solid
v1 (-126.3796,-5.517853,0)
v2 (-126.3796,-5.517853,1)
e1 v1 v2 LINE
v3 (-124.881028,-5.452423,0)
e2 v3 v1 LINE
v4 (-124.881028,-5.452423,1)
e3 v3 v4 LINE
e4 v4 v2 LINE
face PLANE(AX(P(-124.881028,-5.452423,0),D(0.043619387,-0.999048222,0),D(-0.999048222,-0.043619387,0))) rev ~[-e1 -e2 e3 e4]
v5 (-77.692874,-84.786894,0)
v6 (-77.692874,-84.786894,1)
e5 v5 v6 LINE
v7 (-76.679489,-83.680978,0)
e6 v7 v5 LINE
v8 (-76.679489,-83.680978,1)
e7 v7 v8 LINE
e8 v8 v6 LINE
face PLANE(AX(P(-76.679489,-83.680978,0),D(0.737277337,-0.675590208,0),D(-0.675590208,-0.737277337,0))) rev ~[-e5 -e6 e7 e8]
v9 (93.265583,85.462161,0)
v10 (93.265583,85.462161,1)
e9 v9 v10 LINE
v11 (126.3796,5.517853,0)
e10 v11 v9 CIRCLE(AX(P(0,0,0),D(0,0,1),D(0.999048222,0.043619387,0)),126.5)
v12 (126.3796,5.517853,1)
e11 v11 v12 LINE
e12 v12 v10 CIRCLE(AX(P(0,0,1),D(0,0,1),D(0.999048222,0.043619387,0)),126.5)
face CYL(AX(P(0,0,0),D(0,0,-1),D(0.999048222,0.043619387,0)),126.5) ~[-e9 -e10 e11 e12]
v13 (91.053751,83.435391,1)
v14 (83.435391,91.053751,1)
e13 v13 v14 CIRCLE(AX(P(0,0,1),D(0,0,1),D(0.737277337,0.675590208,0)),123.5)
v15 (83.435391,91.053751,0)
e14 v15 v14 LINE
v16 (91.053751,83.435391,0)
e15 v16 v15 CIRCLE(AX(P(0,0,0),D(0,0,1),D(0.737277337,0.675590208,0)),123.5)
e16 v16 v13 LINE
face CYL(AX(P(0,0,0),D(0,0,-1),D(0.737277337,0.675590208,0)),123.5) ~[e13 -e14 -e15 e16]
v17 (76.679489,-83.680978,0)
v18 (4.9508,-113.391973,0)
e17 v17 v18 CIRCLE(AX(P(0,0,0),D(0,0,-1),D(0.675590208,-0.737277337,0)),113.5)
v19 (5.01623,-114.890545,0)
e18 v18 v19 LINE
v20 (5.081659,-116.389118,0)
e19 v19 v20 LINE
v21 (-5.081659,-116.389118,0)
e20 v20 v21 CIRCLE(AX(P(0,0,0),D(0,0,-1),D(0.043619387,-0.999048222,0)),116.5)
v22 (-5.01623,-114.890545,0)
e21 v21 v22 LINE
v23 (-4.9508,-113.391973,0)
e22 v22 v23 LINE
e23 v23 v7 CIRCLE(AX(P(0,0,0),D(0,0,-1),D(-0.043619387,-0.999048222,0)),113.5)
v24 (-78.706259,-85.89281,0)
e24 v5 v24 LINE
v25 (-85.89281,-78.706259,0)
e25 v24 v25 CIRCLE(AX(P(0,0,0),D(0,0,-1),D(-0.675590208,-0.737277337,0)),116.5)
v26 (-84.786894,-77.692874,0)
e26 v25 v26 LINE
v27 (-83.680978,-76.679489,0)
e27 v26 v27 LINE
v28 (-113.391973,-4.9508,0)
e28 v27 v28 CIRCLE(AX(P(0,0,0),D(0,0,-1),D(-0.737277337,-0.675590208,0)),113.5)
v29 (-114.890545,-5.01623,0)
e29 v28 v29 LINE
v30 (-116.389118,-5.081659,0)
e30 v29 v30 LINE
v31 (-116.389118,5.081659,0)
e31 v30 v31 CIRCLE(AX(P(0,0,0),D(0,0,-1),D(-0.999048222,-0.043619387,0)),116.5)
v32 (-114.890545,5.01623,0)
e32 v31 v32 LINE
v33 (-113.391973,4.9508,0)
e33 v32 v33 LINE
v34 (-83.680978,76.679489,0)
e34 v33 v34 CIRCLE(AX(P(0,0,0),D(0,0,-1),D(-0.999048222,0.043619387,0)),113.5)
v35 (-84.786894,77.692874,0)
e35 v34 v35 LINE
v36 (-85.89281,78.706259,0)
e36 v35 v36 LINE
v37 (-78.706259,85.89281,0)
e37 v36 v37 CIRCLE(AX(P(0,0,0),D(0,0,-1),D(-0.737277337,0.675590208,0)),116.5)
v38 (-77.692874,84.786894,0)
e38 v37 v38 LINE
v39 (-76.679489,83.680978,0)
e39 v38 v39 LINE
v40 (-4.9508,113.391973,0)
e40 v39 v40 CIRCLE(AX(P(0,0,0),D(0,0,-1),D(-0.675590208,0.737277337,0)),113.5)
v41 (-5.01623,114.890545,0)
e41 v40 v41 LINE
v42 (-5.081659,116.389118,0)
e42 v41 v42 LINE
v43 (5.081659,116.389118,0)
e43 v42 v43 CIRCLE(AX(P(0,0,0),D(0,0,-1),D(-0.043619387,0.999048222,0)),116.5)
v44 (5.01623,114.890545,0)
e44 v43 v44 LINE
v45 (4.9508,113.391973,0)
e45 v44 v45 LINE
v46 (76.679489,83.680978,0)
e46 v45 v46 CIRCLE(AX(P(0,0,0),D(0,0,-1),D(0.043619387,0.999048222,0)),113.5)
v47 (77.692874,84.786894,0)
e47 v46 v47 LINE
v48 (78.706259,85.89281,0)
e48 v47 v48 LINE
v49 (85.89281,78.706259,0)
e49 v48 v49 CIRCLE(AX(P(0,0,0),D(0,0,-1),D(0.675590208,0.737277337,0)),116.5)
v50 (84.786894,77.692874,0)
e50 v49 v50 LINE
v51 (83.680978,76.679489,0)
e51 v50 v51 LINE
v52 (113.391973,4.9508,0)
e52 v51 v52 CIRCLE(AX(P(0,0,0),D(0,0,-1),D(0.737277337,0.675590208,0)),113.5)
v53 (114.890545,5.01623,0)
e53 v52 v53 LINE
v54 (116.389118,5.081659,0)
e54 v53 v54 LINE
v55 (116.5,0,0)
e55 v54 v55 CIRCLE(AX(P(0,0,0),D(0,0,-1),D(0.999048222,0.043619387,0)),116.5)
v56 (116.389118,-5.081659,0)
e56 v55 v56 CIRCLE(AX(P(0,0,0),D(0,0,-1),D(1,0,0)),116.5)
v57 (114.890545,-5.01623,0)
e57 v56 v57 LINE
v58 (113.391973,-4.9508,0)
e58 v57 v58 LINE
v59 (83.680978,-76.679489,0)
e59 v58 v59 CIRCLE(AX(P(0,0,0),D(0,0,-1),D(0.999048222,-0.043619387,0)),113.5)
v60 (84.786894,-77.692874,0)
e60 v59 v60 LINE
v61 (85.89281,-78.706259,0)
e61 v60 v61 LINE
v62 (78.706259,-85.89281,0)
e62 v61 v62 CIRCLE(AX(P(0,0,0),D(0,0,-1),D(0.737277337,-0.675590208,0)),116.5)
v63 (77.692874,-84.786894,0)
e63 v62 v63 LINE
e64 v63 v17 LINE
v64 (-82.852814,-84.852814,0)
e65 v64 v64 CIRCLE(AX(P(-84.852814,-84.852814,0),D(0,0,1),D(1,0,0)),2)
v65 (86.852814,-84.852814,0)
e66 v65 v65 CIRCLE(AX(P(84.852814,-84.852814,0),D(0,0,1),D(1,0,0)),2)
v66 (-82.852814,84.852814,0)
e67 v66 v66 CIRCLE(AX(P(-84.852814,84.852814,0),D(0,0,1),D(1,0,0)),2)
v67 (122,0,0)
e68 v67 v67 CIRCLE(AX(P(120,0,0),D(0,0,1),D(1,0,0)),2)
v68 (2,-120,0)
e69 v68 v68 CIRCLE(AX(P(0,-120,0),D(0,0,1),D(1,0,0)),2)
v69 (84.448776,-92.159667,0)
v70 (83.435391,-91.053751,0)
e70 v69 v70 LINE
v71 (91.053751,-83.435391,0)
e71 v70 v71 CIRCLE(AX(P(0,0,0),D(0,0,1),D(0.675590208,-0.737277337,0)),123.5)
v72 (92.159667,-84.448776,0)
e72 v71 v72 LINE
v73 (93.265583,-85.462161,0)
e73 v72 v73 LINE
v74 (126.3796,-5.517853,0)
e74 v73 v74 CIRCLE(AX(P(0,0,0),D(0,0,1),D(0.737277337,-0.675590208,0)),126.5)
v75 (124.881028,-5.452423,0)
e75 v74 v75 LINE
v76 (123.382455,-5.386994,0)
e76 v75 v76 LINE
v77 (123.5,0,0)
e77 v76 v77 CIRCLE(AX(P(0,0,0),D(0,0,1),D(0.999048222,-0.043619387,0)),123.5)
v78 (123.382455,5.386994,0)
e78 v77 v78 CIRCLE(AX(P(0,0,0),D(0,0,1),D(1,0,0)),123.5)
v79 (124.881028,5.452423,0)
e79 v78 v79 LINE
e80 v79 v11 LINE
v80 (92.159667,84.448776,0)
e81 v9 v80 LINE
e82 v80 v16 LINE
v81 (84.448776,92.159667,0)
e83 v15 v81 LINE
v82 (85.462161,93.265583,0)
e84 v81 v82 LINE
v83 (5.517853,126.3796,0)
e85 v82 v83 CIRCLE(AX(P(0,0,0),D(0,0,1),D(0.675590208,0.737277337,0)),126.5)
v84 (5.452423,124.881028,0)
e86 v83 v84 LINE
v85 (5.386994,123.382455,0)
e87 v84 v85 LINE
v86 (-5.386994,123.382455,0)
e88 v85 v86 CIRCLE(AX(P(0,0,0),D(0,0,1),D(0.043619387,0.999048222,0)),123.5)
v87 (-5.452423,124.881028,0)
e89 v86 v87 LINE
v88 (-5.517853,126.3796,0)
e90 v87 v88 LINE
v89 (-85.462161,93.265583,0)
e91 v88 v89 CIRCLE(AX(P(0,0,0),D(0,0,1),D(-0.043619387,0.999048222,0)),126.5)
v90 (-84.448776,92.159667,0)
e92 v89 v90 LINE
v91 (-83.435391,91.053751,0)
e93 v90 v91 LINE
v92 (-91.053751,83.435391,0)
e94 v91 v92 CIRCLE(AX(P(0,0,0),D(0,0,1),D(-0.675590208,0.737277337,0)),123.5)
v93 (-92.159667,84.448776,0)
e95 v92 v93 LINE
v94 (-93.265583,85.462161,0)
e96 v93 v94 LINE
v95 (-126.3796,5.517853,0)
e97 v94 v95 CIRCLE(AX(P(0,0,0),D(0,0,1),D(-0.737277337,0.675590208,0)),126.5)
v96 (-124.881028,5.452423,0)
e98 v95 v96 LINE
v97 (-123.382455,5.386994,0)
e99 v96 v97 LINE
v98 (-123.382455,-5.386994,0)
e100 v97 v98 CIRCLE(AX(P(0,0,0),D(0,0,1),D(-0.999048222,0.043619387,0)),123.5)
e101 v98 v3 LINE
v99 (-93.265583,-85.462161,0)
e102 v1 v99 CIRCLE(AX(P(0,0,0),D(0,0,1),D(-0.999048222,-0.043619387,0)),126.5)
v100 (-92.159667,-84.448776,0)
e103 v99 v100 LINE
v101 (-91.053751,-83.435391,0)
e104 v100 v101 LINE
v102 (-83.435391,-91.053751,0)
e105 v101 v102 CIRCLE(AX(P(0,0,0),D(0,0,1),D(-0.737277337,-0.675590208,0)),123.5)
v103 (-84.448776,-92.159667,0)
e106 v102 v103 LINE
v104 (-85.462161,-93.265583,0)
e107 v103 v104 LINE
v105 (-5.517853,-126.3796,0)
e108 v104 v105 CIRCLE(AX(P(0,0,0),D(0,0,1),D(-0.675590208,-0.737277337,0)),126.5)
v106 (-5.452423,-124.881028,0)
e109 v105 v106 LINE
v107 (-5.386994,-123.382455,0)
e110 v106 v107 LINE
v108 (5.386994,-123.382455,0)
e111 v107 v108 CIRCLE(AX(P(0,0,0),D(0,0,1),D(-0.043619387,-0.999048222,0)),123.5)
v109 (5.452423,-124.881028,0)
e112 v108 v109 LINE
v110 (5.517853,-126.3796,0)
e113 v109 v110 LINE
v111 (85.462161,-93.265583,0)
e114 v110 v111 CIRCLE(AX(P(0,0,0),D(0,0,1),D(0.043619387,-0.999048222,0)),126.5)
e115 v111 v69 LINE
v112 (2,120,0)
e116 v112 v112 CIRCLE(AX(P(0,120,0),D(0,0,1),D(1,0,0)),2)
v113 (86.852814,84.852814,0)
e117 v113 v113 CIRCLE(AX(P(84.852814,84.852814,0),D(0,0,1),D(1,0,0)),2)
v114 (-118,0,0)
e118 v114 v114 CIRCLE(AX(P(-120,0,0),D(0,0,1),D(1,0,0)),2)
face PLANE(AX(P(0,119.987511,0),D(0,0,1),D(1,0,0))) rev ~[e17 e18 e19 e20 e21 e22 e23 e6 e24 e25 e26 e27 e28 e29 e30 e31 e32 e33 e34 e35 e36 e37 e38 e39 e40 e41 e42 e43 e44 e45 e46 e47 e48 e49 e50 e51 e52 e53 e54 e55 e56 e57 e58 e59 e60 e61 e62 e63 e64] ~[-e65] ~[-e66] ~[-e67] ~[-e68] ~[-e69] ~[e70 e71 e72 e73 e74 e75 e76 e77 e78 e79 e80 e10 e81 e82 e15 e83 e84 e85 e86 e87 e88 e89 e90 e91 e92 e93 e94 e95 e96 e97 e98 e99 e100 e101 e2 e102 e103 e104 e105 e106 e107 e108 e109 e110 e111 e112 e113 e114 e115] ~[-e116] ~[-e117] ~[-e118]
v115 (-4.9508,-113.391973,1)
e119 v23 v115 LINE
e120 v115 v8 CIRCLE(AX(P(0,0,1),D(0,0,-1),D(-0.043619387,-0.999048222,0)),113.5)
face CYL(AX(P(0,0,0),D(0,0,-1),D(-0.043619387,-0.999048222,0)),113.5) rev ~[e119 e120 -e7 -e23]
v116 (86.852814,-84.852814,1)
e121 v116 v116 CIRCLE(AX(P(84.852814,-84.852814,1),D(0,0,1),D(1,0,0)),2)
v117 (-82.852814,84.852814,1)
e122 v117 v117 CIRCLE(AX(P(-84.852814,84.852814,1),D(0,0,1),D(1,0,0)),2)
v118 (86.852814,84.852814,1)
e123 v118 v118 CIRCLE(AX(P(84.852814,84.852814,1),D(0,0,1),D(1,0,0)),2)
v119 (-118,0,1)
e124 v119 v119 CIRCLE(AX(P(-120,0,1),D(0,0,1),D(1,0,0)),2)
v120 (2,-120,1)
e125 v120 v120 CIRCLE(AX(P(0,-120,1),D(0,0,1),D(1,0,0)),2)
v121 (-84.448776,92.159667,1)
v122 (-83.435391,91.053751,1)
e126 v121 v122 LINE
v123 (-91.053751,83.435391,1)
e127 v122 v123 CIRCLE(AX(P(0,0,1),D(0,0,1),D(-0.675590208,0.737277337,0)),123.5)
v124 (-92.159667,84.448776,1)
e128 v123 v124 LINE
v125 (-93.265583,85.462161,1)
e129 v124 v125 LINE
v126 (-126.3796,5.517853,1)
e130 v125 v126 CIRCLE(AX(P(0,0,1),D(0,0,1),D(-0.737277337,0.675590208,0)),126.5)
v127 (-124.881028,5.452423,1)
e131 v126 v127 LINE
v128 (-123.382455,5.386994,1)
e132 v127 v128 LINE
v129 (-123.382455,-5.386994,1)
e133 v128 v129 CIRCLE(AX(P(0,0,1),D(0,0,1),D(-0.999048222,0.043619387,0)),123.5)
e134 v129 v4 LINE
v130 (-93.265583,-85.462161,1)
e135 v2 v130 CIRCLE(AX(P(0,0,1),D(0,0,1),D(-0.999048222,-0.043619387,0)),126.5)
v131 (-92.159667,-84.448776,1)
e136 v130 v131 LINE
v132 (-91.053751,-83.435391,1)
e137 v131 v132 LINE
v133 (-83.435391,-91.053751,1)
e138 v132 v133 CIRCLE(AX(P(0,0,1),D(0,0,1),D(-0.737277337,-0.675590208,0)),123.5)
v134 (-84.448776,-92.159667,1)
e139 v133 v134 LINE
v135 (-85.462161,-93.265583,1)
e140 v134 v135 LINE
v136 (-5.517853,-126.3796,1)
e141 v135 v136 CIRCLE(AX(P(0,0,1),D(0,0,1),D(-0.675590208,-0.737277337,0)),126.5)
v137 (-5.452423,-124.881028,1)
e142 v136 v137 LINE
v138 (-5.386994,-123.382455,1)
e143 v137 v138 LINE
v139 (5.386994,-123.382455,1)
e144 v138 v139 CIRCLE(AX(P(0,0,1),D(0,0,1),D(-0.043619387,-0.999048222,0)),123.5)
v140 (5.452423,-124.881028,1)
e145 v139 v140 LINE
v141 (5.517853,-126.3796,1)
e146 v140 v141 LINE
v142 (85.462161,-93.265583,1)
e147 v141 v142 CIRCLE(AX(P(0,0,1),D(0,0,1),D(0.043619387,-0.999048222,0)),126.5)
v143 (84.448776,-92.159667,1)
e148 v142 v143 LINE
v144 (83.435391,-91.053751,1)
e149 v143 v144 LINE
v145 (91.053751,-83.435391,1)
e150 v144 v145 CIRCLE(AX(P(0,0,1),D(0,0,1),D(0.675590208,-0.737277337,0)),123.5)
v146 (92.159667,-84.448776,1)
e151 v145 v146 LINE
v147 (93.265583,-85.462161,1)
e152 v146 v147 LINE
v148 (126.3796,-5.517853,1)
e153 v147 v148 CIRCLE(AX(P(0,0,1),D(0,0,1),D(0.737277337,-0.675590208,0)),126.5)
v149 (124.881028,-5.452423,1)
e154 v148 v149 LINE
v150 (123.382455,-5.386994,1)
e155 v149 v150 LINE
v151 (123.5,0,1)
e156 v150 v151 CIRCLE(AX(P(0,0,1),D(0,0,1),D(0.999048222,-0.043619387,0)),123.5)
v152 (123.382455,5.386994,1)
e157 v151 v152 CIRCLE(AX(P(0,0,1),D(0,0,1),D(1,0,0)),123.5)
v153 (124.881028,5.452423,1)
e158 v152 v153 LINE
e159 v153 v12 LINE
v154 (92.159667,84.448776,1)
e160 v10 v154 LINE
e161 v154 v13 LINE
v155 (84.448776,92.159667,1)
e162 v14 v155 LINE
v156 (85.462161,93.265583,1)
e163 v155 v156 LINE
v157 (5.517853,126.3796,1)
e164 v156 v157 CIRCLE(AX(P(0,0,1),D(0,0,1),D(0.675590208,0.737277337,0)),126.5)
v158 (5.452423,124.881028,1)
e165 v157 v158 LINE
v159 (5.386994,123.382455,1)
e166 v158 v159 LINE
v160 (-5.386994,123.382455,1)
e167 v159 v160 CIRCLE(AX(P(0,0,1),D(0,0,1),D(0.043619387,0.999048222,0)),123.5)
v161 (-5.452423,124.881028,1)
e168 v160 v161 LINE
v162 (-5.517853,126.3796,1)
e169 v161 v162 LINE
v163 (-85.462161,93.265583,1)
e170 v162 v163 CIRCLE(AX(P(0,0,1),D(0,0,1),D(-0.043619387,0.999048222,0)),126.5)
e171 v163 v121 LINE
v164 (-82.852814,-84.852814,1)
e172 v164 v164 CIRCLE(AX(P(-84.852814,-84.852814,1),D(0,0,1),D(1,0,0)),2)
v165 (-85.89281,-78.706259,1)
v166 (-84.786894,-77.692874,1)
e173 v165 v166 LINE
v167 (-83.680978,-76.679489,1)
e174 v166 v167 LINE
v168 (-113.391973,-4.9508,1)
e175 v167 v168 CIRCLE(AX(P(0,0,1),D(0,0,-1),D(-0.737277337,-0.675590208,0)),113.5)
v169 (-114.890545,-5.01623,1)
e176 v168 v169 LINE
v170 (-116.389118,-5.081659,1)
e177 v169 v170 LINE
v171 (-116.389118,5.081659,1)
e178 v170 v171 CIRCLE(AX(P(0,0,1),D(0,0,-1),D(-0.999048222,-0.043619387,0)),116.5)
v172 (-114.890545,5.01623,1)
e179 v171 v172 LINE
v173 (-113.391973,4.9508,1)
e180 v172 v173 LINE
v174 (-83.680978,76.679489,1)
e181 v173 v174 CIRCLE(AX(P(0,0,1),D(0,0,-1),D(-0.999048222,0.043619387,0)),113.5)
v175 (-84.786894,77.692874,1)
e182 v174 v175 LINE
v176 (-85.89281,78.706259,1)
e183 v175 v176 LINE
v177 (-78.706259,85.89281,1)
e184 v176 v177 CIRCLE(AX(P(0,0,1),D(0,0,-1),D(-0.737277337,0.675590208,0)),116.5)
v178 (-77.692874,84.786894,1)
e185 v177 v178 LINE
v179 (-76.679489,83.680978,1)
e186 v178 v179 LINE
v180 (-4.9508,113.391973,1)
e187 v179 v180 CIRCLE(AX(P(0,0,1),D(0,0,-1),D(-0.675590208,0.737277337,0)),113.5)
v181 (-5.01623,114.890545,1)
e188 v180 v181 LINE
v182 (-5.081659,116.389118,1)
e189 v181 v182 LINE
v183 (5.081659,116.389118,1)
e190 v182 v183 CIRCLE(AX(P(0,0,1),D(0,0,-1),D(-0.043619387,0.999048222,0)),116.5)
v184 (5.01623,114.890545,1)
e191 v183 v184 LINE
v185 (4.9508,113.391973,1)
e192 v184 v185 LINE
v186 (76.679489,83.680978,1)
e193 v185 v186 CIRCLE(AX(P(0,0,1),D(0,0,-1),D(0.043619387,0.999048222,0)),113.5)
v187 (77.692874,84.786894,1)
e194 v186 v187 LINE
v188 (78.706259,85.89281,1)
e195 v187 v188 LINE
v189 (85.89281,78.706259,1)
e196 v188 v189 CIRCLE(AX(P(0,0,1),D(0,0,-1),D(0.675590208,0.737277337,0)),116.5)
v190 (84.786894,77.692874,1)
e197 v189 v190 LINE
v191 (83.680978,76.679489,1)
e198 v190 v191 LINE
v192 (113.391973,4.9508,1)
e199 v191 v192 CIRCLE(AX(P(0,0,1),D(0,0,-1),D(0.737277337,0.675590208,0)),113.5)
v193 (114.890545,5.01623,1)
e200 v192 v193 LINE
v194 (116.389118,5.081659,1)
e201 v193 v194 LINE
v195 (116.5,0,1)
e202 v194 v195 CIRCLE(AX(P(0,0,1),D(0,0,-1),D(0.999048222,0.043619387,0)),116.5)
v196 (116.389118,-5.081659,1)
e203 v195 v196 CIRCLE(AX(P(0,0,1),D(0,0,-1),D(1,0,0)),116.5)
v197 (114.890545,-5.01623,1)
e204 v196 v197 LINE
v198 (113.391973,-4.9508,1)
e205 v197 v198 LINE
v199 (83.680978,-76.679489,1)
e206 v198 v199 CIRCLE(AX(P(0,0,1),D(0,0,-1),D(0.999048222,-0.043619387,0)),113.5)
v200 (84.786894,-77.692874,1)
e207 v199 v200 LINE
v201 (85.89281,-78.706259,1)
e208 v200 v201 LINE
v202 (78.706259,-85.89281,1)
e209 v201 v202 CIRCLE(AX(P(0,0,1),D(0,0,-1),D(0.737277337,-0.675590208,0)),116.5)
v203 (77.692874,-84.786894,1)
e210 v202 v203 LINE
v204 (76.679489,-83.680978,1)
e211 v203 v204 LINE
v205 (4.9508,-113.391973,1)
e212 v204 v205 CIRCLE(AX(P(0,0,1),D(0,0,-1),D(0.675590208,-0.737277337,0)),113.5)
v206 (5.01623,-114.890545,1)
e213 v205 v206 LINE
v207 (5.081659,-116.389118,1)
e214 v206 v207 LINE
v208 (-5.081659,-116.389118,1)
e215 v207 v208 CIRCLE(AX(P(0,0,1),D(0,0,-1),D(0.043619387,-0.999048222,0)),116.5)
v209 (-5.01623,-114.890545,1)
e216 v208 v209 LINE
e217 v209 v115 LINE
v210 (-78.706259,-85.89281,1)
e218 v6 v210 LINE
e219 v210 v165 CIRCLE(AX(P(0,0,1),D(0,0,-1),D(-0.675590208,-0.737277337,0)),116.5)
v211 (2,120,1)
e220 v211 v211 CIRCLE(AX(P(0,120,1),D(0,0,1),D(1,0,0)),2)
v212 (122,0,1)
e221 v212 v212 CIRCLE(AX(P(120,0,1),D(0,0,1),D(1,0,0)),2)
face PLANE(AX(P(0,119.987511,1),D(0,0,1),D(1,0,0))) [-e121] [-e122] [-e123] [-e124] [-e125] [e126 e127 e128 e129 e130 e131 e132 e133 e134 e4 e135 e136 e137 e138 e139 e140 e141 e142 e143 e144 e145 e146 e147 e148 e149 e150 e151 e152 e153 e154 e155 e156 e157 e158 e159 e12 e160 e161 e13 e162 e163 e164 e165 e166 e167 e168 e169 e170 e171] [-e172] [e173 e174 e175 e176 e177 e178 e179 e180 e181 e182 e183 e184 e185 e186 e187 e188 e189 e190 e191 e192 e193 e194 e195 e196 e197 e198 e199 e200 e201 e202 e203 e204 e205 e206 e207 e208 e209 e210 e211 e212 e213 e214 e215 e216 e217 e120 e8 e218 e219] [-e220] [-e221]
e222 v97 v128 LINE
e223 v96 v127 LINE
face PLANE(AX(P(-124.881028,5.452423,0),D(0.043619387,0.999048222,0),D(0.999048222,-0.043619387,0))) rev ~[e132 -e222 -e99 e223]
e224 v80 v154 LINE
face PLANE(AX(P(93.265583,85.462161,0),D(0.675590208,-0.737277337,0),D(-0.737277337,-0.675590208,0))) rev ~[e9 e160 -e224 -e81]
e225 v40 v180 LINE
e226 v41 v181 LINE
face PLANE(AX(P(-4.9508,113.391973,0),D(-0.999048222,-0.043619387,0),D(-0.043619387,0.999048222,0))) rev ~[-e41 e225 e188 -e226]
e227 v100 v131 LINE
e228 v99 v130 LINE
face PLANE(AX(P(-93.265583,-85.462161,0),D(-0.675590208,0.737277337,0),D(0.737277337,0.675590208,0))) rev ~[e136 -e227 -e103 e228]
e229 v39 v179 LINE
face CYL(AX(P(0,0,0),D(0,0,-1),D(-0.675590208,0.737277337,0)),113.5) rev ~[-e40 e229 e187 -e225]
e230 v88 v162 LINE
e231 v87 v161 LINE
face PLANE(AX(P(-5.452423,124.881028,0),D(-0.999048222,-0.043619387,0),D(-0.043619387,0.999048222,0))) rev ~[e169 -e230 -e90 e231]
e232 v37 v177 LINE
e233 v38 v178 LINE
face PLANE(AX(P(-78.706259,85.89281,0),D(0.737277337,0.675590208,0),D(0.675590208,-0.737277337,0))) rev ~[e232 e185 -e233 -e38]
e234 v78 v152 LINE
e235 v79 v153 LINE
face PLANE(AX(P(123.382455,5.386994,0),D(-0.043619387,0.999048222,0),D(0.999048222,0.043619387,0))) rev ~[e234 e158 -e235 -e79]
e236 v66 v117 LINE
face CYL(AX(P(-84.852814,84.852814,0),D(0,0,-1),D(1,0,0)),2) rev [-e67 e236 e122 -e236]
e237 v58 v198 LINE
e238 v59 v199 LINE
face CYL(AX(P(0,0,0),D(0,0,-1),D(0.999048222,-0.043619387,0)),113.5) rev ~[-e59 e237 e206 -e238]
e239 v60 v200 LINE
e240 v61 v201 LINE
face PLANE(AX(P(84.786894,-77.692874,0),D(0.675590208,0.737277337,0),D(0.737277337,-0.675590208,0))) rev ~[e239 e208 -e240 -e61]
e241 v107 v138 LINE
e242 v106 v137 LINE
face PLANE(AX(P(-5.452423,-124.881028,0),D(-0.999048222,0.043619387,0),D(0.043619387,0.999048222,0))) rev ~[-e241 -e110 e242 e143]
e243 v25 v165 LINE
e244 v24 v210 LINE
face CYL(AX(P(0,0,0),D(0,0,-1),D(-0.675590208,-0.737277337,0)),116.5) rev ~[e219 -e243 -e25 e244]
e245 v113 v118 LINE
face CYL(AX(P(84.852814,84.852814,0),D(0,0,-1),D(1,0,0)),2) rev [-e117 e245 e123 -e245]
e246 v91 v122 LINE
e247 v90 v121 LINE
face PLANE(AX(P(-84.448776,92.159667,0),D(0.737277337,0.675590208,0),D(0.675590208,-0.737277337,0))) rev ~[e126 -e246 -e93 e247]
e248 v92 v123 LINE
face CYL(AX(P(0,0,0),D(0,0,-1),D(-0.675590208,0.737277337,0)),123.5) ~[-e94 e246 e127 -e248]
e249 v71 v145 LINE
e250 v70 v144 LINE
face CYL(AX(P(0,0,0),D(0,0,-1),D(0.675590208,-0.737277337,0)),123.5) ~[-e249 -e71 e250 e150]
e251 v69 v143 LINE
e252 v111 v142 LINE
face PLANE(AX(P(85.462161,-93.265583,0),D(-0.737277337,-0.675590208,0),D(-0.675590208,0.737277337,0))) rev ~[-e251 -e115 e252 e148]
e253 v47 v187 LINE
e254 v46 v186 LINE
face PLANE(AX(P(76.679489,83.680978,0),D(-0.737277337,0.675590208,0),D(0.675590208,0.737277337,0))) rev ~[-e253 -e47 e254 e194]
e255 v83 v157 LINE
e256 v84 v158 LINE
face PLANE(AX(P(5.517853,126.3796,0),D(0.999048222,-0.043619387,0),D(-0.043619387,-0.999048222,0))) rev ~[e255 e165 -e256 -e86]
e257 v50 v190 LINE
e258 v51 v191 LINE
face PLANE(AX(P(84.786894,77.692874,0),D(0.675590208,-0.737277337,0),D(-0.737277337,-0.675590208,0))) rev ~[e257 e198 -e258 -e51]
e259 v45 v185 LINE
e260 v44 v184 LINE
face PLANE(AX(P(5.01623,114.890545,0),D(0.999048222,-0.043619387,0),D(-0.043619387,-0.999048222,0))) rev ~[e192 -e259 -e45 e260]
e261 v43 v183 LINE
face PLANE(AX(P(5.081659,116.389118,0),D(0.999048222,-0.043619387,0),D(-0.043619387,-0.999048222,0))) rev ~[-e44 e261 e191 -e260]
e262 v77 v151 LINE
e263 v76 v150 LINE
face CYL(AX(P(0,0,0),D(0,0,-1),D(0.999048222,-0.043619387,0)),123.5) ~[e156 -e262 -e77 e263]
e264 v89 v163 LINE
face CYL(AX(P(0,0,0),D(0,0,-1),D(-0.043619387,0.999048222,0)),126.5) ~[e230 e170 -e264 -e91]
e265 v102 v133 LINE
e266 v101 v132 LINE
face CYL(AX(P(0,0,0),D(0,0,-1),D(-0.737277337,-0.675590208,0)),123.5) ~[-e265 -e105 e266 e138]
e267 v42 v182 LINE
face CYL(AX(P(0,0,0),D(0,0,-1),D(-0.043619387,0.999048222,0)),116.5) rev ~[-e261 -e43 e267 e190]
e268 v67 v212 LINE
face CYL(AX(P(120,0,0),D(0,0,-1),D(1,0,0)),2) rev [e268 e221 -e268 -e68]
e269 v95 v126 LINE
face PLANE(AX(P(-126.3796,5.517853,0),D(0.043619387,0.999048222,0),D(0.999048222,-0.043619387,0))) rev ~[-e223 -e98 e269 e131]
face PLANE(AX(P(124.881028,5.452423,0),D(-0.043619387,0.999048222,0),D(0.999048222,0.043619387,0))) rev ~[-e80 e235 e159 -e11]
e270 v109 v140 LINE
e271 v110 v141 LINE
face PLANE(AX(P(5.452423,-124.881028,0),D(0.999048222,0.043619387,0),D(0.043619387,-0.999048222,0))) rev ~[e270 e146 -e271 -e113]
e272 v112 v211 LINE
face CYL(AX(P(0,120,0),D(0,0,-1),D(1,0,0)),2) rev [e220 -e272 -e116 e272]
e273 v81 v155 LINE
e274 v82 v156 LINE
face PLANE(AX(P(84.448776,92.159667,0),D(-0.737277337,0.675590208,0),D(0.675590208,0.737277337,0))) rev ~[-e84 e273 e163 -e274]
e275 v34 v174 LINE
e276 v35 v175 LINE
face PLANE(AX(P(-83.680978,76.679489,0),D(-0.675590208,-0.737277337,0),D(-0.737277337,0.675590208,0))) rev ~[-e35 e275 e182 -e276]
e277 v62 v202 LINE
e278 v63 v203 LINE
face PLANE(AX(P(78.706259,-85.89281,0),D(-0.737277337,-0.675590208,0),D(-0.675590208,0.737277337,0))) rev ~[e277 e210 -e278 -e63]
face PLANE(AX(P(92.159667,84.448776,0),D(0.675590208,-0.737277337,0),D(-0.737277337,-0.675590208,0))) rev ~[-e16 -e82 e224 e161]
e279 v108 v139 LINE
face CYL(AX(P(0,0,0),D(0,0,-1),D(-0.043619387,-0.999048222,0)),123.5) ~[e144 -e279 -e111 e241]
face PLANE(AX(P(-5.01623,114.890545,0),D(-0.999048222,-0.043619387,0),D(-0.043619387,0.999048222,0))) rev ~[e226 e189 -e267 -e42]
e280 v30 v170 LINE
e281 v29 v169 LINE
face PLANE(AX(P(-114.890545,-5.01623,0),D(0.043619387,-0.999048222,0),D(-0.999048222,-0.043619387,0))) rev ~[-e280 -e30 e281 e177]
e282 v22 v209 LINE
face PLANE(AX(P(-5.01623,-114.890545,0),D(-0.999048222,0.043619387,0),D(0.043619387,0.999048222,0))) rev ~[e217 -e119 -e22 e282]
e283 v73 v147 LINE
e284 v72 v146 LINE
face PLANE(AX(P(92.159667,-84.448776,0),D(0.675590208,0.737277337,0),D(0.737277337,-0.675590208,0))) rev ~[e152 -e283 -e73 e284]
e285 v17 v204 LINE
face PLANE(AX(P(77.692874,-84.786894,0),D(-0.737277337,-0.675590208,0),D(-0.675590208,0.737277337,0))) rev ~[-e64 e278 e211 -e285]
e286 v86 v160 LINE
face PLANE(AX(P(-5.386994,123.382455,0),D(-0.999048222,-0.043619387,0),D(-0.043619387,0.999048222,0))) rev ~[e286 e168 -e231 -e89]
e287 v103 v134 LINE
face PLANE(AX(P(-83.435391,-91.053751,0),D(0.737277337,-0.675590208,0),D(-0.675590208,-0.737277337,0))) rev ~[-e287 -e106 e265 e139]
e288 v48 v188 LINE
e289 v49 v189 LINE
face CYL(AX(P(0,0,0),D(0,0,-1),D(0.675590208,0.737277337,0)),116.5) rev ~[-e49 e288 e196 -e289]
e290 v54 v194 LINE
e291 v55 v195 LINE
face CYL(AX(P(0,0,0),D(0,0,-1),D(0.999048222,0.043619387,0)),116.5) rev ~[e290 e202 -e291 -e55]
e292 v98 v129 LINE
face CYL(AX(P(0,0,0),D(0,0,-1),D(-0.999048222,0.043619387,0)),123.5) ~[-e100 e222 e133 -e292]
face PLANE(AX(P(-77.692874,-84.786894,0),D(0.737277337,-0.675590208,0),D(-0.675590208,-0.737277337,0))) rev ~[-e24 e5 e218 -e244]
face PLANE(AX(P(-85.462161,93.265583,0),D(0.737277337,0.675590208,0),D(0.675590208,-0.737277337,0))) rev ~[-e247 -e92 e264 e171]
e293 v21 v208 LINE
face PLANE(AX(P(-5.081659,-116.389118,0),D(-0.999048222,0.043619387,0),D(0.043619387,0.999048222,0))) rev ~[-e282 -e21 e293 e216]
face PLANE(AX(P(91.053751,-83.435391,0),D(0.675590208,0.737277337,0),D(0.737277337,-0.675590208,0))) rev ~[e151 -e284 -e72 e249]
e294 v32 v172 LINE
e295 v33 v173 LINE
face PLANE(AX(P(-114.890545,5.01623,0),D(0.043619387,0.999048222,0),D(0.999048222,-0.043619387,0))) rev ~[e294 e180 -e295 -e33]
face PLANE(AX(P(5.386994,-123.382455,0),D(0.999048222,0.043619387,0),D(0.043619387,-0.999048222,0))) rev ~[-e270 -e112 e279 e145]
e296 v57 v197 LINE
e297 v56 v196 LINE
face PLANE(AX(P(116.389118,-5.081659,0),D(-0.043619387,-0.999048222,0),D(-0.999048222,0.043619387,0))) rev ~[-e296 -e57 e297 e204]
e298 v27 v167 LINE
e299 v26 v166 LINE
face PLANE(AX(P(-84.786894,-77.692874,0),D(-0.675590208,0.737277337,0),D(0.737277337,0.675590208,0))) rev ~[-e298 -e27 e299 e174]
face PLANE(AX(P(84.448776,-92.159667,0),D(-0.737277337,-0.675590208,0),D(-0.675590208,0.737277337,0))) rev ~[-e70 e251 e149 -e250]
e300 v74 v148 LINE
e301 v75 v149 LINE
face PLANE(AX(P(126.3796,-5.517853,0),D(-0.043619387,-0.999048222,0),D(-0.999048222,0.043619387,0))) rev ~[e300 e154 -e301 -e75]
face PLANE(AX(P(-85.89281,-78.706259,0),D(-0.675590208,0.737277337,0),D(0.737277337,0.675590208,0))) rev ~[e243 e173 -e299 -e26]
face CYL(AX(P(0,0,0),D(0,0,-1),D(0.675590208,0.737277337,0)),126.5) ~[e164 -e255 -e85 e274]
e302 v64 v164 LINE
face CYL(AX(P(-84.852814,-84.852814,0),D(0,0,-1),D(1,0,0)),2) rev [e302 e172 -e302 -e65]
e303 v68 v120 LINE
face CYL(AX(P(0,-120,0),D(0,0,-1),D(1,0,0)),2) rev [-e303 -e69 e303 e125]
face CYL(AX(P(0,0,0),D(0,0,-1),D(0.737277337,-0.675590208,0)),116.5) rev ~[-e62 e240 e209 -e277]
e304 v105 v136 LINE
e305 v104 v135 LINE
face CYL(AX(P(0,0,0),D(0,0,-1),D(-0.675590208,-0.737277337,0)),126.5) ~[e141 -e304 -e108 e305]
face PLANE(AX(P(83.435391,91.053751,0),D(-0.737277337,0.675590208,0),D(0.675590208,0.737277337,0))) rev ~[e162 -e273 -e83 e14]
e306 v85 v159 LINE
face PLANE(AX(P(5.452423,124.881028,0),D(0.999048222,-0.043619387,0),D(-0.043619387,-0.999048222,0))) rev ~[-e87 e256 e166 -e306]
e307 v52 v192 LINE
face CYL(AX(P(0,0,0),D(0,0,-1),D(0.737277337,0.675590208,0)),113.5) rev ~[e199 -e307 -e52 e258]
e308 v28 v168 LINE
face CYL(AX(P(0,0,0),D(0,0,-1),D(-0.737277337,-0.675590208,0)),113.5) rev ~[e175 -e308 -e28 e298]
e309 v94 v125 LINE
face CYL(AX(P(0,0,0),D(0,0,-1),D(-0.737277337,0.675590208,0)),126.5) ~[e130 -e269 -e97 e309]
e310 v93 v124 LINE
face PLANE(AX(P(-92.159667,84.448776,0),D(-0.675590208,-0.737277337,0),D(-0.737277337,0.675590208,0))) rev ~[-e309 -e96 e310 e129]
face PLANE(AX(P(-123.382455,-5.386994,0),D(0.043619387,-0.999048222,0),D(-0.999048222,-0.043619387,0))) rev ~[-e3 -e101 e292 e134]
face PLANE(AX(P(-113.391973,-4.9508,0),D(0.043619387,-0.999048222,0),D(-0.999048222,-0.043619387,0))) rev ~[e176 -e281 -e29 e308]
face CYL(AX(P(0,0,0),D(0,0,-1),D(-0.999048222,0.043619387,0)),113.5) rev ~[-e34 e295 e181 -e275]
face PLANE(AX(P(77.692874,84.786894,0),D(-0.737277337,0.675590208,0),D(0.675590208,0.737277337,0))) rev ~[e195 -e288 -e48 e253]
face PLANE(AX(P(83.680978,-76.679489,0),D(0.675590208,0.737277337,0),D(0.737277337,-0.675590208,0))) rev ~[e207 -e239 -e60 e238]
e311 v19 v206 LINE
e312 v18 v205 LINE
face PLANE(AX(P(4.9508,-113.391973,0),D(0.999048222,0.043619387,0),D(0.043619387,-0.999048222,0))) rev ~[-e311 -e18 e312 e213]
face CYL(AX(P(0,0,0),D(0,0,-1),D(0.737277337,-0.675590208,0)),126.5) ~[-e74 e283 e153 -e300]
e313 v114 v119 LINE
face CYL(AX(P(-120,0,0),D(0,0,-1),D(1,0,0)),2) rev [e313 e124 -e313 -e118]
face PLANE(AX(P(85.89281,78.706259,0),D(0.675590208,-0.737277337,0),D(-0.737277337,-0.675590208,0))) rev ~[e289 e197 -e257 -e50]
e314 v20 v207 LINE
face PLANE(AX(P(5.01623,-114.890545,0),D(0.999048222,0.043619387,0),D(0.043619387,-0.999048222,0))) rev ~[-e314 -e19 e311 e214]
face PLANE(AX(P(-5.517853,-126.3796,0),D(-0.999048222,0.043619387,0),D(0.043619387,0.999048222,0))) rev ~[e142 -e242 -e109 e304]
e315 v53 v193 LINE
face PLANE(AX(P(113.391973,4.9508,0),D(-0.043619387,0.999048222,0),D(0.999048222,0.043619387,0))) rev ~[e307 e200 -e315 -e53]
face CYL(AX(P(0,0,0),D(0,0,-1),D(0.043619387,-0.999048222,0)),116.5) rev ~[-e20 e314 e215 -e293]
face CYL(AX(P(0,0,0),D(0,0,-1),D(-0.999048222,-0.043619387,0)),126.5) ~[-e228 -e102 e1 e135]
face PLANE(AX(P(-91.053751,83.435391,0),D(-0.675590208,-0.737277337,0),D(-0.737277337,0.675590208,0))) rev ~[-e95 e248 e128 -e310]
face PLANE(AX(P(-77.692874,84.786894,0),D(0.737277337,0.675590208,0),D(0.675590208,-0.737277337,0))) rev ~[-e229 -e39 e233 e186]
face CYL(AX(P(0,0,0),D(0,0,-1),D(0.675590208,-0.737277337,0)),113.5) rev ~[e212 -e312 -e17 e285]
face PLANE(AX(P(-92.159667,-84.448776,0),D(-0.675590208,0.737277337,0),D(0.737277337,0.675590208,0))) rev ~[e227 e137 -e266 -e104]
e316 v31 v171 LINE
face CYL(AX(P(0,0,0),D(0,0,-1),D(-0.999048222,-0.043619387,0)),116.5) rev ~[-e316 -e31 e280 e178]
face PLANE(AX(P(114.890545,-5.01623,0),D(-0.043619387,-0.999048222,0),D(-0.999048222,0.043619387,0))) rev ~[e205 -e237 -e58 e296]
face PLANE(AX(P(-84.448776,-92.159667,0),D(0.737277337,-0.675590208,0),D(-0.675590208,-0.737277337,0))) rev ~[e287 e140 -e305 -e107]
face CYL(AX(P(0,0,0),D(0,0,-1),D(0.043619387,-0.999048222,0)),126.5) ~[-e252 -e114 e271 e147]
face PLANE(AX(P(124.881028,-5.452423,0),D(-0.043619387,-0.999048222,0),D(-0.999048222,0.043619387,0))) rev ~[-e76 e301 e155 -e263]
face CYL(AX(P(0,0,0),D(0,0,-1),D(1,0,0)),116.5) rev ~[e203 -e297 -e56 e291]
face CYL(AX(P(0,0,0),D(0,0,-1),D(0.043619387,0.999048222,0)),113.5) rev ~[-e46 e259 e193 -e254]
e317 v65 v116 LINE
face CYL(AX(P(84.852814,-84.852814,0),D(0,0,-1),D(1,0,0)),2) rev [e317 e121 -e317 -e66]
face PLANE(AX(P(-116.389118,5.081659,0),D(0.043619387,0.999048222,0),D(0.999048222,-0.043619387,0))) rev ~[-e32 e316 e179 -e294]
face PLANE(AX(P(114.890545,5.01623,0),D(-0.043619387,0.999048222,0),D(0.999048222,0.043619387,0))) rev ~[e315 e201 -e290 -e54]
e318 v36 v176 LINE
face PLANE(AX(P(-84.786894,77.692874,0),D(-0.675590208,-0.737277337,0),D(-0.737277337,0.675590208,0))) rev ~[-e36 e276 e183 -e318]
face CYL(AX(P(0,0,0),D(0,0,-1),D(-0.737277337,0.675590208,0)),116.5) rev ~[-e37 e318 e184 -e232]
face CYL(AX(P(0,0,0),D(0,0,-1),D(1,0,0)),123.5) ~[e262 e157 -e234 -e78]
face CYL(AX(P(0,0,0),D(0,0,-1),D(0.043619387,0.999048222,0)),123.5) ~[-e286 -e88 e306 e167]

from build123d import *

# Parameters (mm, degrees)
F0_R     = 2
F1_DEPTH = 1


with BuildPart() as f1:
    # F0 (on Top) → F1 (new body)
    with BuildSketch(Plane.XY):
        with BuildLine():
            Line((5.0816586281, 116.3891178143), (5.3869943396, 123.3824553654))
            ThreePointArc((5.3869943396, 123.3824553654), (0, 123.5), (-5.3869943396, 123.3824553654))
            Line((-5.3869943396, 123.3824553654), (-5.0816586281, 116.3891178143))
            ThreePointArc((-5.0816586281, 116.3891178143), (0, 116.5), (5.0816586281, 116.3891178143))
        make_face()
        with Locations((0, 120)):
            Circle(F0_R, mode=Mode.SUBTRACT)
        with BuildLine():
            Line((-78.7062591872, 85.8928097384), (-83.4353906405, 91.0537510961))
            ThreePointArc((-83.4353906405, 91.0537510961), (-87.3276874765, 87.3276874765), (-91.0537510961, 83.4353906405))
            Line((-91.0537510961, 83.4353906405), (-85.8928097384, 78.7062591872))
            ThreePointArc((-85.8928097384, 78.7062591872), (-82.3779400082, 82.3779400082), (-78.7062591872, 85.8928097384))
        make_face()
        with Locations((-84.8528137424, 84.8528137424)):
            Circle(F0_R, mode=Mode.SUBTRACT)
        with BuildLine():
            Line((85.8928097384, 78.7062591872), (91.0537510961, 83.4353906405))
            ThreePointArc((91.0537510961, 83.4353906405), (87.3276874765, 87.3276874765), (83.4353906405, 91.0537510961))
            Line((83.4353906405, 91.0537510961), (78.7062591872, 85.8928097384))
            ThreePointArc((78.7062591872, 85.8928097384), (82.3779400082, 82.3779400082), (85.8928097384, 78.7062591872))
        make_face()
        with Locations((84.8528137424, 84.8528137424)):
            Circle(F0_R, mode=Mode.SUBTRACT)
        with BuildLine():
            ThreePointArc((123.5, 0), (123.4706103444, 2.6941383018), (123.3824553654, 5.3869943396))
            Line((123.3824553654, 5.3869943396), (116.3891178143, 5.0816586281))
            ThreePointArc((116.3891178143, 5.0816586281), (116.4722761548, 2.5414341065), (116.5, 0))
            ThreePointArc((116.5, 0), (116.4722761548, -2.5414341065), (116.3891178143, -5.0816586281))
            Line((116.3891178143, -5.0816586281), (123.3824553654, -5.3869943396))
            ThreePointArc((123.3824553654, -5.3869943396), (123.4706103444, -2.6941383018), (123.5, 0))
        make_face()
        with Locations((120, 0)):
            Circle(F0_R, mode=Mode.SUBTRACT)
        with BuildLine():
            ThreePointArc((83.4353906405, -91.0537510961), (87.3276874765, -87.3276874765), (91.0537510961, -83.4353906405))
            Line((91.0537510961, -83.4353906405), (85.8928097384, -78.7062591872))
            ThreePointArc((85.8928097384, -78.7062591872), (82.3779400082, -82.3779400082), (78.7062591872, -85.8928097384))
            Line((78.7062591872, -85.8928097384), (83.4353906405, -91.0537510961))
        make_face()
        with Locations((84.8528137424, -84.8528137424)):
            Circle(F0_R, mode=Mode.SUBTRACT)
        with BuildLine():
            ThreePointArc((-5.3869943396, -123.3824553654), (0, -123.5), (5.3869943396, -123.3824553654))
            Line((5.3869943396, -123.3824553654), (5.0816586281, -116.3891178143))
            ThreePointArc((5.0816586281, -116.3891178143), (0, -116.5), (-5.0816586281, -116.3891178143))
            Line((-5.0816586281, -116.3891178143), (-5.3869943396, -123.3824553654))
        make_face()
        with Locations((0, -120)):
            Circle(F0_R, mode=Mode.SUBTRACT)
        with BuildLine():
            ThreePointArc((-91.0537510961, -83.4353906405), (-87.3276874765, -87.3276874765), (-83.4353906405, -91.0537510961))
            Line((-83.4353906405, -91.0537510961), (-78.7062591872, -85.8928097384))
            ThreePointArc((-78.7062591872, -85.8928097384), (-82.3779400082, -82.3779400082), (-85.8928097384, -78.7062591872))
            Line((-85.8928097384, -78.7062591872), (-91.0537510961, -83.4353906405))
        make_face()
        with Locations((-84.8528137424, -84.8528137424)):
            Circle(F0_R, mode=Mode.SUBTRACT)
        with BuildLine():
            Line((-116.3891178143, 5.0816586281), (-123.3824553654, 5.3869943396))
            ThreePointArc((-123.3824553654, 5.3869943396), (-123.5, 0), (-123.3824553654, -5.3869943396))
            Line((-123.3824553654, -5.3869943396), (-116.3891178143, -5.0816586281))
            ThreePointArc((-116.3891178143, -5.0816586281), (-116.5, 0), (-116.3891178143, 5.0816586281))
        make_face()
        with Locations((-120, 0)):
            Circle(F0_R, mode=Mode.SUBTRACT)
        with BuildLine():
            ThreePointArc((-84.448775952, 92.1596671013), (-47.8354290456, 115.4849415639), (-5.4524234207, 124.8810276977))
            Line((-5.4524234207, 124.8810276977), (-5.5178525017, 126.3796000301))
            ThreePointArc((-5.5178525017, 126.3796000301), (-48.4094541942, 116.8707608627), (-85.4621612634, 93.2655831065))
            Line((-85.4621612634, 93.2655831065), (-84.448775952, 92.1596671013))
        make_face()
        with BuildLine():
            Line((-5.3869943396, 123.3824553654), (-5.4524234207, 124.8810276977))
            ThreePointArc((-5.4524234207, 124.8810276977), (-47.8354290456, 115.4849415639), (-84.448775952, 92.1596671013))
            Line((-84.448775952, 92.1596671013), (-83.4353906405, 91.0537510961))
            ThreePointArc((-83.4353906405, 91.0537510961), (-47.2614038971, 114.0991222651), (-5.3869943396, 123.3824553654))
        make_face()
        with BuildLine():
            Line((-5.0816586281, 116.3891178143), (-5.3869943396, 123.3824553654))
            ThreePointArc((-5.3869943396, 123.3824553654), (-47.2614038971, 114.0991222651), (-83.4353906405, 91.0537510961))
            Line((-83.4353906405, 91.0537510961), (-78.7062591872, 85.8928097384))
            ThreePointArc((-78.7062591872, 85.8928097384), (-44.5826198705, 107.6319655376), (-5.0816586281, 116.3891178143))
        make_face()
        with BuildLine():
            Line((-5.016229547, 114.8905454819), (-5.0816586281, 116.3891178143))
            ThreePointArc((-5.0816586281, 116.3891178143), (-44.5826198705, 107.6319655376), (-78.7062591872, 85.8928097384))
            Line((-78.7062591872, 85.8928097384), (-77.6928738758, 84.7868937332))
            ThreePointArc((-77.6928738758, 84.7868937332), (-44.008594722, 106.2461462388), (-5.016229547, 114.8905454819))
        make_face()
        with BuildLine():
            ThreePointArc((-76.6794885644, 83.6809777279), (-43.4345695734, 104.86032694), (-4.950800466, 113.3919731495))
            Line((-4.950800466, 113.3919731495), (-5.016229547, 114.8905454819))
            ThreePointArc((-5.016229547, 114.8905454819), (-44.008594722, 106.2461462388), (-77.6928738758, 84.7868937332))
            Line((-77.6928738758, 84.7868937332), (-76.6794885644, 83.6809777279))
        make_face()
        with BuildLine():
            Line((76.6794885644, 83.6809777279), (77.6928738758, 84.7868937332))
            ThreePointArc((77.6928738758, 84.7868937332), (44.008594722, 106.2461462388), (5.016229547, 114.8905454819))
            Line((5.016229547, 114.8905454819), (4.950800466, 113.3919731495))
            ThreePointArc((4.950800466, 113.3919731495), (43.4345695734, 104.86032694), (76.6794885644, 83.6809777279))
        make_face()
        with BuildLine():
            Line((77.6928738758, 84.7868937332), (78.7062591872, 85.8928097384))
            ThreePointArc((78.7062591872, 85.8928097384), (44.5826198705, 107.6319655376), (5.0816586281, 116.3891178143))
            Line((5.0816586281, 116.3891178143), (5.016229547, 114.8905454819))
            ThreePointArc((5.016229547, 114.8905454819), (44.008594722, 106.2461462388), (77.6928738758, 84.7868937332))
        make_face()
        with BuildLine():
            Line((78.7062591872, 85.8928097384), (83.4353906405, 91.0537510961))
            ThreePointArc((83.4353906405, 91.0537510961), (47.2614038971, 114.0991222651), (5.3869943396, 123.3824553654))
            Line((5.3869943396, 123.3824553654), (5.0816586281, 116.3891178143))
            ThreePointArc((5.0816586281, 116.3891178143), (44.5826198705, 107.6319655376), (78.7062591872, 85.8928097384))
        make_face()
        with BuildLine():
            Line((83.4353906405, 91.0537510961), (84.448775952, 92.1596671013))
            ThreePointArc((84.448775952, 92.1596671013), (47.8354290456, 115.4849415639), (5.4524234207, 124.8810276977))
            Line((5.4524234207, 124.8810276977), (5.3869943396, 123.3824553654))
            ThreePointArc((5.3869943396, 123.3824553654), (47.2614038971, 114.0991222651), (83.4353906405, 91.0537510961))
        make_face()
        with BuildLine():
            ThreePointArc((5.4524234207, 124.8810276977), (47.8354290456, 115.4849415639), (84.448775952, 92.1596671013))
            Line((84.448775952, 92.1596671013), (85.4621612634, 93.2655831065))
            ThreePointArc((85.4621612634, 93.2655831065), (48.4094541942, 116.8707608627), (5.5178525017, 126.3796000301))
            Line((5.5178525017, 126.3796000301), (5.4524234207, 124.8810276977))
        make_face()
        with BuildLine():
            Line((113.3919731495, 4.950800466), (114.8905454819, 5.016229547))
            ThreePointArc((114.8905454819, 5.016229547), (106.2461462388, 44.008594722), (84.7868937332, 77.6928738758))
            Line((84.7868937332, 77.6928738758), (83.6809777279, 76.6794885644))
            ThreePointArc((83.6809777279, 76.6794885644), (104.86032694, 43.4345695734), (113.3919731495, 4.950800466))
        make_face()
        with BuildLine():
            Line((114.8905454819, 5.016229547), (116.3891178143, 5.0816586281))
            ThreePointArc((116.3891178143, 5.0816586281), (107.6319655376, 44.5826198705), (85.8928097384, 78.7062591872))
            Line((85.8928097384, 78.7062591872), (84.7868937332, 77.6928738758))
            ThreePointArc((84.7868937332, 77.6928738758), (106.2461462388, 44.008594722), (114.8905454819, 5.016229547))
        make_face()
        with BuildLine():
            Line((116.3891178143, 5.0816586281), (123.3824553654, 5.3869943396))
            ThreePointArc((123.3824553654, 5.3869943396), (114.0991222651, 47.2614038971), (91.0537510961, 83.4353906405))
            Line((91.0537510961, 83.4353906405), (85.8928097384, 78.7062591872))
            ThreePointArc((85.8928097384, 78.7062591872), (107.6319655376, 44.5826198705), (116.3891178143, 5.0816586281))
        make_face()
        with BuildLine():
            Line((123.3824553654, 5.3869943396), (124.8810276977, 5.4524234207))
            ThreePointArc((124.8810276977, 5.4524234207), (115.4849415639, 47.8354290456), (92.1596671013, 84.448775952))
            Line((92.1596671013, 84.448775952), (91.0537510961, 83.4353906405))
            ThreePointArc((91.0537510961, 83.4353906405), (114.0991222651, 47.2614038971), (123.3824553654, 5.3869943396))
        make_face()
        with BuildLine():
            ThreePointArc((92.1596671013, 84.448775952), (115.4849415639, 47.8354290456), (124.8810276977, 5.4524234207))
            Line((124.8810276977, 5.4524234207), (126.3796000301, 5.5178525017))
            ThreePointArc((126.3796000301, 5.5178525017), (116.8707608627, 48.4094541942), (93.2655831065, 85.4621612634))
            Line((93.2655831065, 85.4621612634), (92.1596671013, 84.448775952))
        make_face()
        with BuildLine():
            ThreePointArc((84.7868937332, -77.6928738758), (106.2461462388, -44.008594722), (114.8905454819, -5.016229547))
            Line((114.8905454819, -5.016229547), (113.3919731495, -4.950800466))
            ThreePointArc((113.3919731495, -4.950800466), (104.86032694, -43.4345695734), (83.6809777279, -76.6794885644))
            Line((83.6809777279, -76.6794885644), (84.7868937332, -77.6928738758))
        make_face()
        with BuildLine():
            ThreePointArc((85.8928097384, -78.7062591872), (107.6319655376, -44.5826198705), (116.3891178143, -5.0816586281))
            Line((116.3891178143, -5.0816586281), (114.8905454819, -5.016229547))
            ThreePointArc((114.8905454819, -5.016229547), (106.2461462388, -44.008594722), (84.7868937332, -77.6928738758))
            Line((84.7868937332, -77.6928738758), (85.8928097384, -78.7062591872))
        make_face()
        with BuildLine():
            ThreePointArc((91.0537510961, -83.4353906405), (114.0991222651, -47.2614038971), (123.3824553654, -5.3869943396))
            Line((123.3824553654, -5.3869943396), (116.3891178143, -5.0816586281))
            ThreePointArc((116.3891178143, -5.0816586281), (107.6319655376, -44.5826198705), (85.8928097384, -78.7062591872))
            Line((85.8928097384, -78.7062591872), (91.0537510961, -83.4353906405))
        make_face()
        with BuildLine():
            ThreePointArc((92.1596671013, -84.448775952), (115.4849415639, -47.8354290456), (124.8810276977, -5.4524234207))
            Line((124.8810276977, -5.4524234207), (123.3824553654, -5.3869943396))
            ThreePointArc((123.3824553654, -5.3869943396), (114.0991222651, -47.2614038971), (91.0537510961, -83.4353906405))
            Line((91.0537510961, -83.4353906405), (92.1596671013, -84.448775952))
        make_face()
        with BuildLine():
            Line((126.3796000301, -5.5178525017), (124.8810276977, -5.4524234207))
            ThreePointArc((124.8810276977, -5.4524234207), (115.4849415639, -47.8354290456), (92.1596671013, -84.448775952))
            Line((92.1596671013, -84.448775952), (93.2655831065, -85.4621612634))
            ThreePointArc((93.2655831065, -85.4621612634), (116.8707608627, -48.4094541942), (126.3796000301, -5.5178525017))
        make_face()
        with BuildLine():
            ThreePointArc((5.016229547, -114.8905454819), (44.008594722, -106.2461462388), (77.6928738758, -84.7868937332))
            Line((77.6928738758, -84.7868937332), (76.6794885644, -83.6809777279))
            ThreePointArc((76.6794885644, -83.6809777279), (43.4345695734, -104.86032694), (4.950800466, -113.3919731495))
            Line((4.950800466, -113.3919731495), (5.016229547, -114.8905454819))
        make_face()
        with BuildLine():
            ThreePointArc((5.0816586281, -116.3891178143), (44.5826198705, -107.6319655376), (78.7062591872, -85.8928097384))
            Line((78.7062591872, -85.8928097384), (77.6928738758, -84.7868937332))
            ThreePointArc((77.6928738758, -84.7868937332), (44.008594722, -106.2461462388), (5.016229547, -114.8905454819))
            Line((5.016229547, -114.8905454819), (5.0816586281, -116.3891178143))
        make_face()
        with BuildLine():
            ThreePointArc((5.3869943396, -123.3824553654), (47.2614038971, -114.0991222651), (83.4353906405, -91.0537510961))
            Line((83.4353906405, -91.0537510961), (78.7062591872, -85.8928097384))
            ThreePointArc((78.7062591872, -85.8928097384), (44.5826198705, -107.6319655376), (5.0816586281, -116.3891178143))
            Line((5.0816586281, -116.3891178143), (5.3869943396, -123.3824553654))
        make_face()
        with BuildLine():
            ThreePointArc((5.4524234207, -124.8810276977), (47.8354290456, -115.4849415639), (84.448775952, -92.1596671013))
            Line((84.448775952, -92.1596671013), (83.4353906405, -91.0537510961))
            ThreePointArc((83.4353906405, -91.0537510961), (47.2614038971, -114.0991222651), (5.3869943396, -123.3824553654))
            Line((5.3869943396, -123.3824553654), (5.4524234207, -124.8810276977))
        make_face()
        with BuildLine():
            Line((85.4621612634, -93.2655831065), (84.448775952, -92.1596671013))
            ThreePointArc((84.448775952, -92.1596671013), (47.8354290456, -115.4849415639), (5.4524234207, -124.8810276977))
            Line((5.4524234207, -124.8810276977), (5.5178525017, -126.3796000301))
            ThreePointArc((5.5178525017, -126.3796000301), (48.4094541942, -116.8707608627), (85.4621612634, -93.2655831065))
        make_face()
        with BuildLine():
            ThreePointArc((-4.950800466, -113.3919731495), (-43.4345695734, -104.86032694), (-76.6794885644, -83.6809777279))
            Line((-76.6794885644, -83.6809777279), (-77.6928738758, -84.7868937332))
            ThreePointArc((-77.6928738758, -84.7868937332), (-44.008594722, -106.2461462388), (-5.016229547, -114.8905454819))
            Line((-5.016229547, -114.8905454819), (-4.950800466, -113.3919731495))
        make_face()
        with BuildLine():
            ThreePointArc((-78.7062591872, -85.8928097384), (-44.5826198705, -107.6319655376), (-5.0816586281, -116.3891178143))
            Line((-5.0816586281, -116.3891178143), (-5.016229547, -114.8905454819))
            ThreePointArc((-5.016229547, -114.8905454819), (-44.008594722, -106.2461462388), (-77.6928738758, -84.7868937332))
            Line((-77.6928738758, -84.7868937332), (-78.7062591872, -85.8928097384))
        make_face()
        with BuildLine():
            ThreePointArc((-83.4353906405, -91.0537510961), (-47.2614038971, -114.0991222651), (-5.3869943396, -123.3824553654))
            Line((-5.3869943396, -123.3824553654), (-5.0816586281, -116.3891178143))
            ThreePointArc((-5.0816586281, -116.3891178143), (-44.5826198705, -107.6319655376), (-78.7062591872, -85.8928097384))
            Line((-78.7062591872, -85.8928097384), (-83.4353906405, -91.0537510961))
        make_face()
        with BuildLine():
            ThreePointArc((-84.448775952, -92.1596671013), (-47.8354290456, -115.4849415639), (-5.4524234207, -124.8810276977))
            Line((-5.4524234207, -124.8810276977), (-5.3869943396, -123.3824553654))
            ThreePointArc((-5.3869943396, -123.3824553654), (-47.2614038971, -114.0991222651), (-83.4353906405, -91.0537510961))
            Line((-83.4353906405, -91.0537510961), (-84.448775952, -92.1596671013))
        make_face()
        with BuildLine():
            Line((-5.5178525017, -126.3796000301), (-5.4524234207, -124.8810276977))
            ThreePointArc((-5.4524234207, -124.8810276977), (-47.8354290456, -115.4849415639), (-84.448775952, -92.1596671013))
            Line((-84.448775952, -92.1596671013), (-85.4621612634, -93.2655831065))
            ThreePointArc((-85.4621612634, -93.2655831065), (-48.4094541942, -116.8707608627), (-5.5178525017, -126.3796000301))
        make_face()
        with BuildLine():
            ThreePointArc((-123.3824553654, -5.3869943396), (-114.0991222651, -47.2614038971), (-91.0537510961, -83.4353906405))
            Line((-91.0537510961, -83.4353906405), (-85.8928097384, -78.7062591872))
            ThreePointArc((-85.8928097384, -78.7062591872), (-107.6319655376, -44.5826198705), (-116.3891178143, -5.0816586281))
            Line((-116.3891178143, -5.0816586281), (-123.3824553654, -5.3869943396))
        make_face()
        with BuildLine():
            ThreePointArc((-124.8810276977, -5.4524234207), (-115.4849415639, -47.8354290456), (-92.1596671013, -84.448775952))
            Line((-92.1596671013, -84.448775952), (-91.0537510961, -83.4353906405))
            ThreePointArc((-91.0537510961, -83.4353906405), (-114.0991222651, -47.2614038971), (-123.3824553654, -5.3869943396))
            Line((-123.3824553654, -5.3869943396), (-124.8810276977, -5.4524234207))
        make_face()
        with BuildLine():
            Line((-93.2655831065, -85.4621612634), (-92.1596671013, -84.448775952))
            ThreePointArc((-92.1596671013, -84.448775952), (-115.4849415639, -47.8354290456), (-124.8810276977, -5.4524234207))
            Line((-124.8810276977, -5.4524234207), (-126.3796000301, -5.5178525017))
            ThreePointArc((-126.3796000301, -5.5178525017), (-116.8707608627, -48.4094541942), (-93.2655831065, -85.4621612634))
        make_face()
        with BuildLine():
            ThreePointArc((-84.7868937332, -77.6928738758), (-106.2461462388, -44.008594722), (-114.8905454819, -5.016229547))
            Line((-114.8905454819, -5.016229547), (-116.3891178143, -5.0816586281))
            ThreePointArc((-116.3891178143, -5.0816586281), (-107.6319655376, -44.5826198705), (-85.8928097384, -78.7062591872))
            Line((-85.8928097384, -78.7062591872), (-84.7868937332, -77.6928738758))
        make_face()
        with BuildLine():
            ThreePointArc((-83.6809777279, -76.6794885644), (-104.86032694, -43.4345695734), (-113.3919731495, -4.950800466))
            Line((-113.3919731495, -4.950800466), (-114.8905454819, -5.016229547))
            ThreePointArc((-114.8905454819, -5.016229547), (-106.2461462388, -44.008594722), (-84.7868937332, -77.6928738758))
            Line((-84.7868937332, -77.6928738758), (-83.6809777279, -76.6794885644))
        make_face()
        with BuildLine():
            ThreePointArc((-124.8810276977, 5.4524234207), (-115.4849415639, 47.8354290456), (-92.1596671013, 84.448775952))
            Line((-92.1596671013, 84.448775952), (-93.2655831065, 85.4621612634))
            ThreePointArc((-93.2655831065, 85.4621612634), (-116.8707608627, 48.4094541942), (-126.3796000301, 5.5178525017))
            Line((-126.3796000301, 5.5178525017), (-124.8810276977, 5.4524234207))
        make_face()
        with BuildLine():
            Line((-91.0537510961, 83.4353906405), (-92.1596671013, 84.448775952))
            ThreePointArc((-92.1596671013, 84.448775952), (-115.4849415639, 47.8354290456), (-124.8810276977, 5.4524234207))
            Line((-124.8810276977, 5.4524234207), (-123.3824553654, 5.3869943396))
            ThreePointArc((-123.3824553654, 5.3869943396), (-114.0991222651, 47.2614038971), (-91.0537510961, 83.4353906405))
        make_face()
        with BuildLine():
            Line((-85.8928097384, 78.7062591872), (-91.0537510961, 83.4353906405))
            ThreePointArc((-91.0537510961, 83.4353906405), (-114.0991222651, 47.2614038971), (-123.3824553654, 5.3869943396))
            Line((-123.3824553654, 5.3869943396), (-116.3891178143, 5.0816586281))
            ThreePointArc((-116.3891178143, 5.0816586281), (-107.6319655376, 44.5826198705), (-85.8928097384, 78.7062591872))
        make_face()
        with BuildLine():
            ThreePointArc((-114.8905454819, 5.016229547), (-106.2461462388, 44.008594722), (-84.7868937332, 77.6928738758))
            Line((-84.7868937332, 77.6928738758), (-85.8928097384, 78.7062591872))
            ThreePointArc((-85.8928097384, 78.7062591872), (-107.6319655376, 44.5826198705), (-116.3891178143, 5.0816586281))
            Line((-116.3891178143, 5.0816586281), (-114.8905454819, 5.016229547))
        make_face()
        with BuildLine():
            ThreePointArc((-113.3919731495, 4.950800466), (-104.86032694, 43.4345695734), (-83.6809777279, 76.6794885644))
            Line((-83.6809777279, 76.6794885644), (-84.7868937332, 77.6928738758))
            ThreePointArc((-84.7868937332, 77.6928738758), (-106.2461462388, 44.008594722), (-114.8905454819, 5.016229547))
            Line((-114.8905454819, 5.016229547), (-113.3919731495, 4.950800466))
        make_face()
    extrude(amount=F1_DEPTH)


solid = f1.part
